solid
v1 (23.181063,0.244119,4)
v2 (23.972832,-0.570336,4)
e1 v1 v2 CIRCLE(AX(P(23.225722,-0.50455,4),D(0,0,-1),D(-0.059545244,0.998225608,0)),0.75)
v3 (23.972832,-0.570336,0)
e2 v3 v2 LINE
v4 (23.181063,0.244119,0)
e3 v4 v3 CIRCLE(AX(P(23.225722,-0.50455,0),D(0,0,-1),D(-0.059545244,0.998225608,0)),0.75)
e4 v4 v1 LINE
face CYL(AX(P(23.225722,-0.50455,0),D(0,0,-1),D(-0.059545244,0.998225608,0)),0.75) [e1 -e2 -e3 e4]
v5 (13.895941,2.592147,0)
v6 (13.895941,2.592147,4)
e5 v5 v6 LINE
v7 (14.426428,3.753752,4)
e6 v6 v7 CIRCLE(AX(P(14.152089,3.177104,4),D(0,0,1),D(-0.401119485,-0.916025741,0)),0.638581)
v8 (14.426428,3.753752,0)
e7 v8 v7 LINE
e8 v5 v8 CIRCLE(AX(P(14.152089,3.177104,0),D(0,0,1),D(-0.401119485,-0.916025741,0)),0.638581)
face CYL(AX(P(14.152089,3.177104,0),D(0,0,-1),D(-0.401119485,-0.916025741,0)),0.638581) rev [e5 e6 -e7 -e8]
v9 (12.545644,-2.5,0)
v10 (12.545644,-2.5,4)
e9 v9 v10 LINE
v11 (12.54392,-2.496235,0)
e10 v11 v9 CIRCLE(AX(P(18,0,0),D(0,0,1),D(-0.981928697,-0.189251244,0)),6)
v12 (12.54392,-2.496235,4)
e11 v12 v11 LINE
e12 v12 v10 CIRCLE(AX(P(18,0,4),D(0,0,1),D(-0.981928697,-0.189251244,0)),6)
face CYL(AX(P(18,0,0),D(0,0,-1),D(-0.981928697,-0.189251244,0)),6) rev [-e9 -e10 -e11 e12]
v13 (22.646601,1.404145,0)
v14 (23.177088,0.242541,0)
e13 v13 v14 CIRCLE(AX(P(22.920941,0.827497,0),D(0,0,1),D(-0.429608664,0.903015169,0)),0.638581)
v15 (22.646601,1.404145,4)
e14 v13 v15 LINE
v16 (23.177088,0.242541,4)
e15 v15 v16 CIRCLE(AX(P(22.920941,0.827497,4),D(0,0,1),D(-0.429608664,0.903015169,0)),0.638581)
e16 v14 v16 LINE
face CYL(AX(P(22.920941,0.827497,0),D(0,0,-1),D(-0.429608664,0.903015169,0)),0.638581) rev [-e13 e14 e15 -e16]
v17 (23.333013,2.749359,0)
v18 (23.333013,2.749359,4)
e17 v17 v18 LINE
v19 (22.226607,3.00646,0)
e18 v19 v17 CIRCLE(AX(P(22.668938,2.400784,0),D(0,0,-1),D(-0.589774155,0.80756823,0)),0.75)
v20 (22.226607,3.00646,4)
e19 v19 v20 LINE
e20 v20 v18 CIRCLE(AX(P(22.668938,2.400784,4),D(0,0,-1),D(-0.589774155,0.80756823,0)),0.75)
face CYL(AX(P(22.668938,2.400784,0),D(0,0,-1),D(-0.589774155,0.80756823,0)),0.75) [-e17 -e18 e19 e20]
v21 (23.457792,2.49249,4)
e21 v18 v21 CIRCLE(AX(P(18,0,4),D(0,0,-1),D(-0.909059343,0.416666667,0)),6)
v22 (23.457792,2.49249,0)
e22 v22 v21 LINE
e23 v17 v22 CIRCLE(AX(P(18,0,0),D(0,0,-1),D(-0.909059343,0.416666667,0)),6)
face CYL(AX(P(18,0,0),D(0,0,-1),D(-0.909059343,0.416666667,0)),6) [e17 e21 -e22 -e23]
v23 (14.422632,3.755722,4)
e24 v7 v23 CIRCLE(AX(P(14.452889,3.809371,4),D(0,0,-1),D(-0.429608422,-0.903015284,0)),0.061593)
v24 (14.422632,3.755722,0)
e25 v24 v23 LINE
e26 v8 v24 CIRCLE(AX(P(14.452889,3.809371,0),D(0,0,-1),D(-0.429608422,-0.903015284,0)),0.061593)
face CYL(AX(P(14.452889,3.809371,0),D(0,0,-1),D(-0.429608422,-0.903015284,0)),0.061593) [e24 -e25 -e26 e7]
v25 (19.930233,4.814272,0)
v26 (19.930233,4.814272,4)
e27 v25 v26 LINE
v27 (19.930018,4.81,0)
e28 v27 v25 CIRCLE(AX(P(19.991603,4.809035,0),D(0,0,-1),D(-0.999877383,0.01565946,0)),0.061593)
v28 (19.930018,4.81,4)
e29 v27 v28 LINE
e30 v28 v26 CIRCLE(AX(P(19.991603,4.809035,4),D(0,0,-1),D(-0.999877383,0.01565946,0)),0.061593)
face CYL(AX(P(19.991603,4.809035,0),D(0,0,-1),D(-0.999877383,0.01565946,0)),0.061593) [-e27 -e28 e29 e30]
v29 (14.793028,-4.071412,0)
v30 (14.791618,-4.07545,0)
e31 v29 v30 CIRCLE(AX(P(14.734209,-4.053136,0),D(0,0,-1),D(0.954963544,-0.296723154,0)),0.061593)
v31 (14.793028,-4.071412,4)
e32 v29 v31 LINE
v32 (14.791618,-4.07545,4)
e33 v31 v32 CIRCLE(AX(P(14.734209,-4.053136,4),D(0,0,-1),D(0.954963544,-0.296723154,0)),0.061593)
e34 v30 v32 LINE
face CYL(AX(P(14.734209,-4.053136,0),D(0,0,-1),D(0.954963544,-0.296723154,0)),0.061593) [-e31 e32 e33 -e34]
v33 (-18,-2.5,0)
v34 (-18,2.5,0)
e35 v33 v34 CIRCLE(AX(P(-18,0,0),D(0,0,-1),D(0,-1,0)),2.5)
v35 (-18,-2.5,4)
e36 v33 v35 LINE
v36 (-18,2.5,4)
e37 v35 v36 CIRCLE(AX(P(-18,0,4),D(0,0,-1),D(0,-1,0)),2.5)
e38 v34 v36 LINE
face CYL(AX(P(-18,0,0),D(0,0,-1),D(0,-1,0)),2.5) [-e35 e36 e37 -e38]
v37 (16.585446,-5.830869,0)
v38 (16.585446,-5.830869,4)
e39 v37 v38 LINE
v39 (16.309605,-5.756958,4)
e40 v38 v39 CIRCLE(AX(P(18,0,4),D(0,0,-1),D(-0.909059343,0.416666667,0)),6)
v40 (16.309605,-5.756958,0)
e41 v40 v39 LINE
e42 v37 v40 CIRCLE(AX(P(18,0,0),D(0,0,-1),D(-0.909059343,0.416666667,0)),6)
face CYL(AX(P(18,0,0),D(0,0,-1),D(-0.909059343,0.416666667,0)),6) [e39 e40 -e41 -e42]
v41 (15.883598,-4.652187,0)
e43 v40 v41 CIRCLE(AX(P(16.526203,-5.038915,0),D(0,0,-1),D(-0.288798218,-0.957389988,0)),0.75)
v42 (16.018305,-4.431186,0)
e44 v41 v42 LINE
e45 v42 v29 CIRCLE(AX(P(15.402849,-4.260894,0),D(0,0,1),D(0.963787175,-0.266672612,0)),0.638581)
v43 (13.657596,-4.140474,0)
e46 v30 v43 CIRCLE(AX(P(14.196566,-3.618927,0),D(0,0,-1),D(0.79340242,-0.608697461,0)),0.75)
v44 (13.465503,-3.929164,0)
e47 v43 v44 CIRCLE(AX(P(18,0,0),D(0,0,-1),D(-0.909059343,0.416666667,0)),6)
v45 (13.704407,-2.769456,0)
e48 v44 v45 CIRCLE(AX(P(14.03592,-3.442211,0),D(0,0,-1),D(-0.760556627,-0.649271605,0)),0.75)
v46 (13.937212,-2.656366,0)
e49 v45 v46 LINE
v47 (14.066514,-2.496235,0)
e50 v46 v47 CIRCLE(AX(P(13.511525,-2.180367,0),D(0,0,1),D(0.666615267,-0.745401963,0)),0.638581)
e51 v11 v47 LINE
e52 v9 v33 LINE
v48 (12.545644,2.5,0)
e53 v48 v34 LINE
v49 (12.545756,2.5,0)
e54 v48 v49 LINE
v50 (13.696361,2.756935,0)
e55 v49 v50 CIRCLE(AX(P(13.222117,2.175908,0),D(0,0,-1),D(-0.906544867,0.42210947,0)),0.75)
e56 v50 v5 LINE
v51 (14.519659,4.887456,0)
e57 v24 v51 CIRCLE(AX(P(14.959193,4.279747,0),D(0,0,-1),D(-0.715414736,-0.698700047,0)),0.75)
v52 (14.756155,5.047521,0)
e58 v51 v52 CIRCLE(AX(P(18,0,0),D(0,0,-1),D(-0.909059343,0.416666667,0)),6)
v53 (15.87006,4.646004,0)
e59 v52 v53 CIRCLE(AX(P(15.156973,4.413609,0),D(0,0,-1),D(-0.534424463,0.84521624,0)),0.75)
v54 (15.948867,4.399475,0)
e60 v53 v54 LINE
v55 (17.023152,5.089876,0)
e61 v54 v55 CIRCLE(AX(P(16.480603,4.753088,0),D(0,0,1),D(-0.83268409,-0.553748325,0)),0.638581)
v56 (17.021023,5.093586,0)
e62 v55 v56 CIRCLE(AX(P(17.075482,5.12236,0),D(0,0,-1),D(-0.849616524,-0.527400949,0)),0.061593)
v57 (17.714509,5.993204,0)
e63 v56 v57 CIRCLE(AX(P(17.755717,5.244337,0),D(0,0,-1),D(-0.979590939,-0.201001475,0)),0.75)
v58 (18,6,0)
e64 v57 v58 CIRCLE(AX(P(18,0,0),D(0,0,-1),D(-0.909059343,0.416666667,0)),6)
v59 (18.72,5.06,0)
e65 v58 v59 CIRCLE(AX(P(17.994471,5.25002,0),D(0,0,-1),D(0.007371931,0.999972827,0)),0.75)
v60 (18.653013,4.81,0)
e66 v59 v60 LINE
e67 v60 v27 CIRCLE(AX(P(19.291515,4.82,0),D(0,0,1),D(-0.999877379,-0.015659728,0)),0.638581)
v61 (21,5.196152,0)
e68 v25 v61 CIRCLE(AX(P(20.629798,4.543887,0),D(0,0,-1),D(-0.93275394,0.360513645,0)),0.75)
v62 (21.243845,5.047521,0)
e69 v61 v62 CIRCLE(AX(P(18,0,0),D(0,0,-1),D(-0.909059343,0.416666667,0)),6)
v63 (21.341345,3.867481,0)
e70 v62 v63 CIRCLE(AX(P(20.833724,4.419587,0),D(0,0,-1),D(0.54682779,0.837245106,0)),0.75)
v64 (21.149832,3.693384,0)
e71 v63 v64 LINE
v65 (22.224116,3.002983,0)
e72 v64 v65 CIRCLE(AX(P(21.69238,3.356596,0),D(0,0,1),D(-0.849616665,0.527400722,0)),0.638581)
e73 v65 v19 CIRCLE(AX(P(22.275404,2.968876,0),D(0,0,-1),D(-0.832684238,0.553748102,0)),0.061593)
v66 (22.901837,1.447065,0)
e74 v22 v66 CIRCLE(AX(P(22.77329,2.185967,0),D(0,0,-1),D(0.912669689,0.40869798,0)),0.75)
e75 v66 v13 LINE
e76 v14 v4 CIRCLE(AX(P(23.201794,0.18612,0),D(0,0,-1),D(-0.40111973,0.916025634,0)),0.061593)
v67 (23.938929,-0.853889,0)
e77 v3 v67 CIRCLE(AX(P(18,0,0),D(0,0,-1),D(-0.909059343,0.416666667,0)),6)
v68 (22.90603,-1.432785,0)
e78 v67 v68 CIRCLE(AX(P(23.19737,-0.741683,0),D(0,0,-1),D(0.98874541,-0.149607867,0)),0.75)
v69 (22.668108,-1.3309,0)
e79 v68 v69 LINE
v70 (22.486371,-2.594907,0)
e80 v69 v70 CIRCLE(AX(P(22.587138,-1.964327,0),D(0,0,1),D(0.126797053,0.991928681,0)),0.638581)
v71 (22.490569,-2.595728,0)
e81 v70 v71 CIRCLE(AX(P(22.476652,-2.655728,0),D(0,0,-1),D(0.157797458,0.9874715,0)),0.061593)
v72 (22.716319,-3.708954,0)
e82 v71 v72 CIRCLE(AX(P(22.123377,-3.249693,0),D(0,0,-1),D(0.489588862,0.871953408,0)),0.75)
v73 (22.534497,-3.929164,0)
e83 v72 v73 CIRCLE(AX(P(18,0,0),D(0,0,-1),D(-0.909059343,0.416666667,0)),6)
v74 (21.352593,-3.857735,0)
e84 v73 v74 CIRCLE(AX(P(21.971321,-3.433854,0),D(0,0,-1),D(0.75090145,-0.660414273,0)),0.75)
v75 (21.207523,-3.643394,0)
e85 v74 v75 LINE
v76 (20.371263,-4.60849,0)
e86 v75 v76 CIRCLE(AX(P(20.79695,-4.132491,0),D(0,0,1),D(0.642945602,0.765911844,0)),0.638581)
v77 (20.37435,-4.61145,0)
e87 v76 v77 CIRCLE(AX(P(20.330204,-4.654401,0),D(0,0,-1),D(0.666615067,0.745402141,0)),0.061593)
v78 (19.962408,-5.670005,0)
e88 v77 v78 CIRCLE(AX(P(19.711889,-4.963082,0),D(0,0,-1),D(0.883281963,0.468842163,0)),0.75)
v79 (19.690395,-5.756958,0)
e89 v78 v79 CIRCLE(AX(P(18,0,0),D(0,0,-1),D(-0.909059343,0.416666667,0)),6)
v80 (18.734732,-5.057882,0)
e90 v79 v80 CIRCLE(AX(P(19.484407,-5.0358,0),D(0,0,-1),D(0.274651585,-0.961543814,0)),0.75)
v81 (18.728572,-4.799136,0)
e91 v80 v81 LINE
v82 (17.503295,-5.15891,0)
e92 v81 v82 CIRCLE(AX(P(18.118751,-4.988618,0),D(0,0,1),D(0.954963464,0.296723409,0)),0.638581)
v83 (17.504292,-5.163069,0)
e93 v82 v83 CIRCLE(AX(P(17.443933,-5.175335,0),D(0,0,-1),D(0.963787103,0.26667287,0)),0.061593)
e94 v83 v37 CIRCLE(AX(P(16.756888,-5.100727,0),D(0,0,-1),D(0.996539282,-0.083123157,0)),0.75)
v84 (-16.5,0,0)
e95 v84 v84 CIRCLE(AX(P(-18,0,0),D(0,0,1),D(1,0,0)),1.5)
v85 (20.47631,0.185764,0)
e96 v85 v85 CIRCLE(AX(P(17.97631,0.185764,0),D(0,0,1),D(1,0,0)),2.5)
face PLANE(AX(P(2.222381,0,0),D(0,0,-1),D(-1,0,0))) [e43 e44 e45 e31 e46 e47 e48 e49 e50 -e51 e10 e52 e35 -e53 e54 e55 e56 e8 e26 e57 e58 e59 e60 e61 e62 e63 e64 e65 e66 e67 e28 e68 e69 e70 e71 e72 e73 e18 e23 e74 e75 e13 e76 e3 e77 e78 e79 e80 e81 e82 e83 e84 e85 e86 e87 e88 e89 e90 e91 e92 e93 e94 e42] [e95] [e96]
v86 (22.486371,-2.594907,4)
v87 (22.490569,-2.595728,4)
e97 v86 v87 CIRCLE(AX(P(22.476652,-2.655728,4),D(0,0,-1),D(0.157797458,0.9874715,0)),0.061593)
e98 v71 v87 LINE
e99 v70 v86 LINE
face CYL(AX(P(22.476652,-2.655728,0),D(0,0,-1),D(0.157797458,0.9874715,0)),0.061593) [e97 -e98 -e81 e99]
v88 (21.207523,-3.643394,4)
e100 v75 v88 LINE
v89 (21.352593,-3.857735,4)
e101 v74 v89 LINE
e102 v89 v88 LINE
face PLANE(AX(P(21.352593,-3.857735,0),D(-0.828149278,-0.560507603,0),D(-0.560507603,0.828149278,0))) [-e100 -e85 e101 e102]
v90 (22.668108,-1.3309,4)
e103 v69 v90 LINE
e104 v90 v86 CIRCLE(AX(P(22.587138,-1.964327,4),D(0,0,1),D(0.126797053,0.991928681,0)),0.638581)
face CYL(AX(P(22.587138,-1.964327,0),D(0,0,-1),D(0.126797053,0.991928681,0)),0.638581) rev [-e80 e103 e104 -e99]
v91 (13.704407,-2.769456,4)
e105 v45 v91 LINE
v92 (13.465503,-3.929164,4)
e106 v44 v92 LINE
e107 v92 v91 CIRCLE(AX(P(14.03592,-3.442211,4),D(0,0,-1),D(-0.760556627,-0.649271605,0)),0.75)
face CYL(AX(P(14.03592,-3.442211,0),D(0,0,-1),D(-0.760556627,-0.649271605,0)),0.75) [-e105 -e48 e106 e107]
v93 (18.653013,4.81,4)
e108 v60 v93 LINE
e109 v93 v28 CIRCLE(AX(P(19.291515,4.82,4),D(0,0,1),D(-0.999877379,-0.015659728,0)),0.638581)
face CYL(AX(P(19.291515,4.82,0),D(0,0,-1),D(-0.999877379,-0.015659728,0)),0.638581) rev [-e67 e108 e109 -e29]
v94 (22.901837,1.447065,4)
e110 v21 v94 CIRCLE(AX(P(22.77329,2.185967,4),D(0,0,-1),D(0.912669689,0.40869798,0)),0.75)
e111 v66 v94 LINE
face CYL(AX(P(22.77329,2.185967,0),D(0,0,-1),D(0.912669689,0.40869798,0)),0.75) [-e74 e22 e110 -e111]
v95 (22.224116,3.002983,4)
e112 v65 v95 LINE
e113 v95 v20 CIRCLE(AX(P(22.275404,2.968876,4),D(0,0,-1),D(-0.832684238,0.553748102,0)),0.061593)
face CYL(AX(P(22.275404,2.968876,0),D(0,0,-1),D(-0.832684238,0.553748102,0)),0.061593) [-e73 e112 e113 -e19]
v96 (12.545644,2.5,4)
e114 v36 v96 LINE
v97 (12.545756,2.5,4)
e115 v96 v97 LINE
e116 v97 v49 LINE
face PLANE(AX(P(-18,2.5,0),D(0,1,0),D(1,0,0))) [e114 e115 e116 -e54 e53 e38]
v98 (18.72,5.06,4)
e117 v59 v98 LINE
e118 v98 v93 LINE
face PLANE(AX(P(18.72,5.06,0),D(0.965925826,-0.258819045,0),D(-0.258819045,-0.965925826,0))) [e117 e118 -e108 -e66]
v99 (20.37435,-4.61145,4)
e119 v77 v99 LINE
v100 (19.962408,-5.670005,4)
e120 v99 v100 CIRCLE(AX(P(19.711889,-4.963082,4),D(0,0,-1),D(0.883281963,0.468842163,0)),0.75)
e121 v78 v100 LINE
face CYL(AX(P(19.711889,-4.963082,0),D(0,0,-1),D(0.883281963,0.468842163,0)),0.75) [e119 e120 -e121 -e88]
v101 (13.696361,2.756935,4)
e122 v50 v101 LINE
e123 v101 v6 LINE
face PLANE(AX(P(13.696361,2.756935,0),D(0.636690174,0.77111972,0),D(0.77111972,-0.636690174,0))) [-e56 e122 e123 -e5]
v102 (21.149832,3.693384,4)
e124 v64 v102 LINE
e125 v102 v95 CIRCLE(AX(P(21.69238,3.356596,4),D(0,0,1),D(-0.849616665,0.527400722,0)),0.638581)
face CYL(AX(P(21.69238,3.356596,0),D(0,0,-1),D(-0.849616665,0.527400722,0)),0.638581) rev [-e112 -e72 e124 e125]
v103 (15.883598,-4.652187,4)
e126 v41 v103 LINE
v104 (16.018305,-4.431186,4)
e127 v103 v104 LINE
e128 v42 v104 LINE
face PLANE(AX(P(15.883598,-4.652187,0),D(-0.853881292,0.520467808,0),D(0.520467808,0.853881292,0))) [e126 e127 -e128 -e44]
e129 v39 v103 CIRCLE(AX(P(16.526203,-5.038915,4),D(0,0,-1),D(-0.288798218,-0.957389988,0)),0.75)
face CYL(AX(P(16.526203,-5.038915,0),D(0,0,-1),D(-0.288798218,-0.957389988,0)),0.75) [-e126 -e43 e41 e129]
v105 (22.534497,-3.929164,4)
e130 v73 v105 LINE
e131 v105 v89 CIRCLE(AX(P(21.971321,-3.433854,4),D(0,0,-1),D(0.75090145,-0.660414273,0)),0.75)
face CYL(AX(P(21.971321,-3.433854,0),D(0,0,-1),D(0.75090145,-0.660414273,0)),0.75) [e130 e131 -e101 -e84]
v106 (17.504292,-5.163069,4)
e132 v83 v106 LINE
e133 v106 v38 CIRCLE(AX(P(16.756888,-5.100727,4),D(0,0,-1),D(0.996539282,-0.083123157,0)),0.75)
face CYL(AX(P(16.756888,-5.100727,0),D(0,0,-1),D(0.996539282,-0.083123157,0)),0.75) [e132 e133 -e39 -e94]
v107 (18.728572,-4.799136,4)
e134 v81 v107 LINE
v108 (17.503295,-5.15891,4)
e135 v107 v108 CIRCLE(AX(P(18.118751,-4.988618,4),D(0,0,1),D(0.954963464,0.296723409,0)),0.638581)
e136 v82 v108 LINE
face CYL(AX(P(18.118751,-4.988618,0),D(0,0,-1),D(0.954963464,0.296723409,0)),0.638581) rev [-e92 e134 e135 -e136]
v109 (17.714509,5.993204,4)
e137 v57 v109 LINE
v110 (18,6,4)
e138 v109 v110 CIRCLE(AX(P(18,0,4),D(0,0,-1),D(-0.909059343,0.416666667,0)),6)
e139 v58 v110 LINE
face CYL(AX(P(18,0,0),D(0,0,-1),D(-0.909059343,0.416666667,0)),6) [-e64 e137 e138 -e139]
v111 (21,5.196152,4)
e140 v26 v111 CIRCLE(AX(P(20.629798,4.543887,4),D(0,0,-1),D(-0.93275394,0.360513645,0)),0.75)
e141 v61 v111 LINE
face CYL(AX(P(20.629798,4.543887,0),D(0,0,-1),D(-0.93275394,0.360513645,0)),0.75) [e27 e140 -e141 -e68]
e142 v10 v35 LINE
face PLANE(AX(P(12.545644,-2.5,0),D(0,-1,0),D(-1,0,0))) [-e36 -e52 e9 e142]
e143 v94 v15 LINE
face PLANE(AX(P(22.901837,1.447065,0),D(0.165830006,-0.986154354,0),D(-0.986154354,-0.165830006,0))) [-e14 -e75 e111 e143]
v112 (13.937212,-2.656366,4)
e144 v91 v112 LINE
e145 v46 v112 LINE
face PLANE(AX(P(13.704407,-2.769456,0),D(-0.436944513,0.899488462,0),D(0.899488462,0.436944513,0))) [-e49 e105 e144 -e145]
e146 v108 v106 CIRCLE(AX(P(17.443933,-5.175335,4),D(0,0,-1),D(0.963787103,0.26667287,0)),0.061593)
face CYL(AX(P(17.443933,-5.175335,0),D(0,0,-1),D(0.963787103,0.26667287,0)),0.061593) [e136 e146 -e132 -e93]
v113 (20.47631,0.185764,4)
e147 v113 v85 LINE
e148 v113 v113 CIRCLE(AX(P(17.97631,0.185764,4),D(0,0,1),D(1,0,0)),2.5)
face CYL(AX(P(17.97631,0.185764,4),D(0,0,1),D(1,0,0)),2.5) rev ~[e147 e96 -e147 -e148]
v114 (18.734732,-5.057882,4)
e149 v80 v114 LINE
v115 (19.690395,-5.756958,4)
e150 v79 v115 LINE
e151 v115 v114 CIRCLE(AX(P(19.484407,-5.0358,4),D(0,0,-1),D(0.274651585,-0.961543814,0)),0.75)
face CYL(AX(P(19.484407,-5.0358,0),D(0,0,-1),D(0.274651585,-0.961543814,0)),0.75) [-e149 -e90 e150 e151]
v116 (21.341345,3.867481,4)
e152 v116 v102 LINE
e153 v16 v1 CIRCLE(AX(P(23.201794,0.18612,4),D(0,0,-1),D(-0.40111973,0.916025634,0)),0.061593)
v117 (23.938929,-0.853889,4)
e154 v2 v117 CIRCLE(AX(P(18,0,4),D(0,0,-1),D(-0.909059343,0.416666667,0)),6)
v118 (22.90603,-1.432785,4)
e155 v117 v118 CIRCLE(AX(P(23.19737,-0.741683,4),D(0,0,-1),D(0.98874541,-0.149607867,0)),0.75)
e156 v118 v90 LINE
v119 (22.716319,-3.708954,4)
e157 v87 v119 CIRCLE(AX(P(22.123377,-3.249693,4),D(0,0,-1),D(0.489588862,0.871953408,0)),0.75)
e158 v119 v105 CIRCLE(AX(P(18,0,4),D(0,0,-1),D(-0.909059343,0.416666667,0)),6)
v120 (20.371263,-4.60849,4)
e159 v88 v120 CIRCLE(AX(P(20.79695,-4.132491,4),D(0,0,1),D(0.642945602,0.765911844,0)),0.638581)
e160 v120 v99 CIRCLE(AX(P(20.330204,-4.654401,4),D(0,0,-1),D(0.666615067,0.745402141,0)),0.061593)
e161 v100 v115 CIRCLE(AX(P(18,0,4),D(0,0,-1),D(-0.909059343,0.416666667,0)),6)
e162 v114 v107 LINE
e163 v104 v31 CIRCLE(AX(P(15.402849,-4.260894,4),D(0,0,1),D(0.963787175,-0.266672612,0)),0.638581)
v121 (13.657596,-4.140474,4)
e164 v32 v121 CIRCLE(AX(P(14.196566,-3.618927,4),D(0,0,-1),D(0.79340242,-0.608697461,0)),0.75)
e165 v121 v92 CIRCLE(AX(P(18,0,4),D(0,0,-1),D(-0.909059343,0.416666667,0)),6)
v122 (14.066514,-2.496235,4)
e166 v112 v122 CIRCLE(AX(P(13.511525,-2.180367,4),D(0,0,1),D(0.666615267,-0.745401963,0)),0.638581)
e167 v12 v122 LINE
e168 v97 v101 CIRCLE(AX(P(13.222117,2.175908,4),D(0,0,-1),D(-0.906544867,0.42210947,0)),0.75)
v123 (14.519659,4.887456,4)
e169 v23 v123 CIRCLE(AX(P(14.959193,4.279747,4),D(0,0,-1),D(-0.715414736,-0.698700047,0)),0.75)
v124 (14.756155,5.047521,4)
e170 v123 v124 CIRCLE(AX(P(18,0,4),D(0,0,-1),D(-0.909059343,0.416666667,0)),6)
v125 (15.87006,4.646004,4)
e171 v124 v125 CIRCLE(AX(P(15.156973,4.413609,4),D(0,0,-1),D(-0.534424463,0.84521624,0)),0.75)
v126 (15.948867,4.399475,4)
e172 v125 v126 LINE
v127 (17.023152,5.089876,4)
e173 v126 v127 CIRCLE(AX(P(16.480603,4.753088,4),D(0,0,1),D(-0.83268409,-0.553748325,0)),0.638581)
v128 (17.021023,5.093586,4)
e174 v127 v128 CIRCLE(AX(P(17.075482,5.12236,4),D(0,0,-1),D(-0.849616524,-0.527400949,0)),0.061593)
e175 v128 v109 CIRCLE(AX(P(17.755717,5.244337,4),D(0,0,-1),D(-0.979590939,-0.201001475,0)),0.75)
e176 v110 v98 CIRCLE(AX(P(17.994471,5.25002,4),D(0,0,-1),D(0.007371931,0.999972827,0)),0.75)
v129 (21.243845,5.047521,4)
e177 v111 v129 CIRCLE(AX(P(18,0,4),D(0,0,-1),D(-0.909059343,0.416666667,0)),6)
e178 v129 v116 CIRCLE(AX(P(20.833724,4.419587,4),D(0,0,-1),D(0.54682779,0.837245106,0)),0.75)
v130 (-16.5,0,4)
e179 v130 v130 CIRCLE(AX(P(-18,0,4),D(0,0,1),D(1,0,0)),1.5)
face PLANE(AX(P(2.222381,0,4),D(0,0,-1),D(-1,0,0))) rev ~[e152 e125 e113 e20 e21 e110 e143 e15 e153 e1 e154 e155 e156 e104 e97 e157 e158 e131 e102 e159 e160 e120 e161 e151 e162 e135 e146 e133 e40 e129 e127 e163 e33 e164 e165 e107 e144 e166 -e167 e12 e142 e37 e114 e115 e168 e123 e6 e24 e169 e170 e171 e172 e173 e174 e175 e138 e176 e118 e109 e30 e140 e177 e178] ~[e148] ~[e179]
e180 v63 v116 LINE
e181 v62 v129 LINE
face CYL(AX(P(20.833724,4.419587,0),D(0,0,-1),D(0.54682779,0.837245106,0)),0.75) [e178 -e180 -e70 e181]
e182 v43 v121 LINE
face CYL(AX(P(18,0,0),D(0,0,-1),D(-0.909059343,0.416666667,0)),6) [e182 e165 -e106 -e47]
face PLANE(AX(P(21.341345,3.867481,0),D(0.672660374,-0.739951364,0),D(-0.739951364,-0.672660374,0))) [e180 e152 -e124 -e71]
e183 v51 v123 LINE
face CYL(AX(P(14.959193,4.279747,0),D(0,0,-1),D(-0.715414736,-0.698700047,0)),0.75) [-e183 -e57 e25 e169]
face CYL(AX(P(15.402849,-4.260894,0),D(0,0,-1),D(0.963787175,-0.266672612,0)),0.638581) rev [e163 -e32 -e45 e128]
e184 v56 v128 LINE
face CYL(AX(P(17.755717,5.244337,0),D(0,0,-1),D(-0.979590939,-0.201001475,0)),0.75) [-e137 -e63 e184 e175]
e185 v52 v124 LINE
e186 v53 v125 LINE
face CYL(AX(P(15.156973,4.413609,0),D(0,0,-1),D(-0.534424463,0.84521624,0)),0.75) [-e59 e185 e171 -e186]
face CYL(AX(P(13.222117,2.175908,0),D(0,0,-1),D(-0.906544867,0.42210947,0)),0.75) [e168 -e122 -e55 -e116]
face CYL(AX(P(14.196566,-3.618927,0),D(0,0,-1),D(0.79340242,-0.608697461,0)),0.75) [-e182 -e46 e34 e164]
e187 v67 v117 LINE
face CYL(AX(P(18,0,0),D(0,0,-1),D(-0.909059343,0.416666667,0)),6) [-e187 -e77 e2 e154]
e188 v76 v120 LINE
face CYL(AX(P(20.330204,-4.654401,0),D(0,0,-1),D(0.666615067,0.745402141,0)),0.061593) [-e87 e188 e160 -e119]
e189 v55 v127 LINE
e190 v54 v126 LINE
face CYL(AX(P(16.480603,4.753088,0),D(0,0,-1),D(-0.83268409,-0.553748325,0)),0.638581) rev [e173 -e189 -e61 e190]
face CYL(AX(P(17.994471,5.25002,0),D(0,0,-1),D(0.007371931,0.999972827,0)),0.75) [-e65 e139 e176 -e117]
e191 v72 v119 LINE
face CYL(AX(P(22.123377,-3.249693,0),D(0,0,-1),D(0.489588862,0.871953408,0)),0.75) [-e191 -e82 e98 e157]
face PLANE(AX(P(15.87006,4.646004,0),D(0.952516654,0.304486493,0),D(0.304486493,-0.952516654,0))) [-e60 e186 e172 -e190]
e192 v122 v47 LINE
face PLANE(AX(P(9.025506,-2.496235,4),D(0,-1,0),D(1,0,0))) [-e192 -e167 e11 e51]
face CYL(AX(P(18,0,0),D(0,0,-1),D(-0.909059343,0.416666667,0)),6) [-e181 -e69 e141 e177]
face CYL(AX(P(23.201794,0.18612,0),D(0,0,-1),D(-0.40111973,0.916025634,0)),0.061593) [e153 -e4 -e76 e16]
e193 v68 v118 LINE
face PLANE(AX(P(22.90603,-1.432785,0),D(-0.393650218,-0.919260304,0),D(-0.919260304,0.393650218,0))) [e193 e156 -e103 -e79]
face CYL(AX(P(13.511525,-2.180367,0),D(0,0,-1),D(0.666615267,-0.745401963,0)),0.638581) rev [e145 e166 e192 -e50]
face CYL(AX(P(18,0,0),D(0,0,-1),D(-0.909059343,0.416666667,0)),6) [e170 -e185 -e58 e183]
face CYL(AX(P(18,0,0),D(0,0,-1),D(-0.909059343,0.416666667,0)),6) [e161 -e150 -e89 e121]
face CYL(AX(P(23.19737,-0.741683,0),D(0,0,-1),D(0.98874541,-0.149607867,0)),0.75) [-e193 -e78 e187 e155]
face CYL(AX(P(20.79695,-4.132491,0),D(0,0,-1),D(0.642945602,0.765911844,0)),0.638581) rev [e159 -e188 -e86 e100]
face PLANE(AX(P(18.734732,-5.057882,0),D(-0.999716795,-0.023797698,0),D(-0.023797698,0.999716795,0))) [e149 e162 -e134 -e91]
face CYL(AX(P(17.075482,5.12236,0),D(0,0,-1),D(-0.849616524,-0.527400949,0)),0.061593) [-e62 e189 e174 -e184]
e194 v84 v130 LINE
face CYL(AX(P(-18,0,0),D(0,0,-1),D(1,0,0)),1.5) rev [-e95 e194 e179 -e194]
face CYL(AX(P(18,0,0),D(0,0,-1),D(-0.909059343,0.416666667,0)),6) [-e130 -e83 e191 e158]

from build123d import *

# Parameters (mm, degrees)
SKETCH1_R           = 1.5
BOSS_EXTRUDE1_DEPTH = 4
CUT_EXTRUDE1_START  = -4
CUT_EXTRUDE1_DEPTH  = 4
CIRPATTERN2_COUNT   = 11
SKETCH3_W           = 6.093608585
SKETCH3_H           = 4.996234569
BOSS_EXTRUDE2_DEPTH = 4
SKETCH4_R           = 2.5
CUT_EXTRUDE2_DEPTH  = 4


with BuildPart() as part:
    # Sketch1 → Boss-Extrude1 (new body)
    with BuildSketch(Plane.XY):
        with BuildLine():
            Line((-18, 2.5), (12.545643943, 2.5))
            ThreePointArc((12.545643943, 2.5), (24, 0), (12.545643943, -2.5))
            Line((12.545643943, -2.5), (-18, -2.5))
            ThreePointArc((-18, -2.5), (-20.5, 0), (-18, 2.5))
        make_face()
        with Locations((-18, 0)):
            Circle(SKETCH1_R, mode=Mode.SUBTRACT)
    extrude(amount=BOSS_EXTRUDE1_DEPTH)

    # Sketch2 → Cut-Extrude1 (cut)
    with BuildSketch(Plane.XY.offset(4).offset(CUT_EXTRUDE1_START)):
        with BuildLine():
            Line((18.72, 5.06), (18.653012702, 4.81))
            ThreePointArc((18.653012702, 4.81), (19.291515108, 4.181419291), (19.930017513, 4.81))
            ThreePointArc((19.930017513, 4.81), (19.930088137, 4.81213776), (19.930232945, 4.814271778))
            ThreePointArc((19.930232945, 4.814271778), (20.377650935, 5.25023041), (21, 5.196152423))
            ThreePointArc((21, 5.196152423), (19.552914271, 5.795554958), (18, 6))
            ThreePointArc((18, 6), (18.589879661, 5.706078038), (18.72, 5.06))
        make_face()
    cut_extrude1 = extrude(amount=CUT_EXTRUDE1_DEPTH, mode=Mode.SUBTRACT)

    # CirPattern2: Cut-Extrude1 ×11 about axis
    cirpattern2_axis = Axis((18, 0, 0), (0, 0, 1))
    for i in range(1, CIRPATTERN2_COUNT):
        add(cut_extrude1.rotate(cirpattern2_axis, i * 360 / CIRPATTERN2_COUNT), mode=Mode.SUBTRACT)

    # Sketch3 → Boss-Extrude2 (add)
    with BuildSketch(Plane.XY.offset(4)):
        with Locations((12.072309907, 0.001882715)):
            Rectangle(SKETCH3_W, SKETCH3_H)
    extrude(amount=-BOSS_EXTRUDE2_DEPTH)

    # Sketch4 → Cut-Extrude2 (cut)
    with BuildSketch(Plane.XY.offset(4)):
        with Locations((17.976309792, 0.185764476)):
            Circle(SKETCH4_R)
    extrude(amount=-CUT_EXTRUDE2_DEPTH, mode=Mode.SUBTRACT)


solid = part.part
